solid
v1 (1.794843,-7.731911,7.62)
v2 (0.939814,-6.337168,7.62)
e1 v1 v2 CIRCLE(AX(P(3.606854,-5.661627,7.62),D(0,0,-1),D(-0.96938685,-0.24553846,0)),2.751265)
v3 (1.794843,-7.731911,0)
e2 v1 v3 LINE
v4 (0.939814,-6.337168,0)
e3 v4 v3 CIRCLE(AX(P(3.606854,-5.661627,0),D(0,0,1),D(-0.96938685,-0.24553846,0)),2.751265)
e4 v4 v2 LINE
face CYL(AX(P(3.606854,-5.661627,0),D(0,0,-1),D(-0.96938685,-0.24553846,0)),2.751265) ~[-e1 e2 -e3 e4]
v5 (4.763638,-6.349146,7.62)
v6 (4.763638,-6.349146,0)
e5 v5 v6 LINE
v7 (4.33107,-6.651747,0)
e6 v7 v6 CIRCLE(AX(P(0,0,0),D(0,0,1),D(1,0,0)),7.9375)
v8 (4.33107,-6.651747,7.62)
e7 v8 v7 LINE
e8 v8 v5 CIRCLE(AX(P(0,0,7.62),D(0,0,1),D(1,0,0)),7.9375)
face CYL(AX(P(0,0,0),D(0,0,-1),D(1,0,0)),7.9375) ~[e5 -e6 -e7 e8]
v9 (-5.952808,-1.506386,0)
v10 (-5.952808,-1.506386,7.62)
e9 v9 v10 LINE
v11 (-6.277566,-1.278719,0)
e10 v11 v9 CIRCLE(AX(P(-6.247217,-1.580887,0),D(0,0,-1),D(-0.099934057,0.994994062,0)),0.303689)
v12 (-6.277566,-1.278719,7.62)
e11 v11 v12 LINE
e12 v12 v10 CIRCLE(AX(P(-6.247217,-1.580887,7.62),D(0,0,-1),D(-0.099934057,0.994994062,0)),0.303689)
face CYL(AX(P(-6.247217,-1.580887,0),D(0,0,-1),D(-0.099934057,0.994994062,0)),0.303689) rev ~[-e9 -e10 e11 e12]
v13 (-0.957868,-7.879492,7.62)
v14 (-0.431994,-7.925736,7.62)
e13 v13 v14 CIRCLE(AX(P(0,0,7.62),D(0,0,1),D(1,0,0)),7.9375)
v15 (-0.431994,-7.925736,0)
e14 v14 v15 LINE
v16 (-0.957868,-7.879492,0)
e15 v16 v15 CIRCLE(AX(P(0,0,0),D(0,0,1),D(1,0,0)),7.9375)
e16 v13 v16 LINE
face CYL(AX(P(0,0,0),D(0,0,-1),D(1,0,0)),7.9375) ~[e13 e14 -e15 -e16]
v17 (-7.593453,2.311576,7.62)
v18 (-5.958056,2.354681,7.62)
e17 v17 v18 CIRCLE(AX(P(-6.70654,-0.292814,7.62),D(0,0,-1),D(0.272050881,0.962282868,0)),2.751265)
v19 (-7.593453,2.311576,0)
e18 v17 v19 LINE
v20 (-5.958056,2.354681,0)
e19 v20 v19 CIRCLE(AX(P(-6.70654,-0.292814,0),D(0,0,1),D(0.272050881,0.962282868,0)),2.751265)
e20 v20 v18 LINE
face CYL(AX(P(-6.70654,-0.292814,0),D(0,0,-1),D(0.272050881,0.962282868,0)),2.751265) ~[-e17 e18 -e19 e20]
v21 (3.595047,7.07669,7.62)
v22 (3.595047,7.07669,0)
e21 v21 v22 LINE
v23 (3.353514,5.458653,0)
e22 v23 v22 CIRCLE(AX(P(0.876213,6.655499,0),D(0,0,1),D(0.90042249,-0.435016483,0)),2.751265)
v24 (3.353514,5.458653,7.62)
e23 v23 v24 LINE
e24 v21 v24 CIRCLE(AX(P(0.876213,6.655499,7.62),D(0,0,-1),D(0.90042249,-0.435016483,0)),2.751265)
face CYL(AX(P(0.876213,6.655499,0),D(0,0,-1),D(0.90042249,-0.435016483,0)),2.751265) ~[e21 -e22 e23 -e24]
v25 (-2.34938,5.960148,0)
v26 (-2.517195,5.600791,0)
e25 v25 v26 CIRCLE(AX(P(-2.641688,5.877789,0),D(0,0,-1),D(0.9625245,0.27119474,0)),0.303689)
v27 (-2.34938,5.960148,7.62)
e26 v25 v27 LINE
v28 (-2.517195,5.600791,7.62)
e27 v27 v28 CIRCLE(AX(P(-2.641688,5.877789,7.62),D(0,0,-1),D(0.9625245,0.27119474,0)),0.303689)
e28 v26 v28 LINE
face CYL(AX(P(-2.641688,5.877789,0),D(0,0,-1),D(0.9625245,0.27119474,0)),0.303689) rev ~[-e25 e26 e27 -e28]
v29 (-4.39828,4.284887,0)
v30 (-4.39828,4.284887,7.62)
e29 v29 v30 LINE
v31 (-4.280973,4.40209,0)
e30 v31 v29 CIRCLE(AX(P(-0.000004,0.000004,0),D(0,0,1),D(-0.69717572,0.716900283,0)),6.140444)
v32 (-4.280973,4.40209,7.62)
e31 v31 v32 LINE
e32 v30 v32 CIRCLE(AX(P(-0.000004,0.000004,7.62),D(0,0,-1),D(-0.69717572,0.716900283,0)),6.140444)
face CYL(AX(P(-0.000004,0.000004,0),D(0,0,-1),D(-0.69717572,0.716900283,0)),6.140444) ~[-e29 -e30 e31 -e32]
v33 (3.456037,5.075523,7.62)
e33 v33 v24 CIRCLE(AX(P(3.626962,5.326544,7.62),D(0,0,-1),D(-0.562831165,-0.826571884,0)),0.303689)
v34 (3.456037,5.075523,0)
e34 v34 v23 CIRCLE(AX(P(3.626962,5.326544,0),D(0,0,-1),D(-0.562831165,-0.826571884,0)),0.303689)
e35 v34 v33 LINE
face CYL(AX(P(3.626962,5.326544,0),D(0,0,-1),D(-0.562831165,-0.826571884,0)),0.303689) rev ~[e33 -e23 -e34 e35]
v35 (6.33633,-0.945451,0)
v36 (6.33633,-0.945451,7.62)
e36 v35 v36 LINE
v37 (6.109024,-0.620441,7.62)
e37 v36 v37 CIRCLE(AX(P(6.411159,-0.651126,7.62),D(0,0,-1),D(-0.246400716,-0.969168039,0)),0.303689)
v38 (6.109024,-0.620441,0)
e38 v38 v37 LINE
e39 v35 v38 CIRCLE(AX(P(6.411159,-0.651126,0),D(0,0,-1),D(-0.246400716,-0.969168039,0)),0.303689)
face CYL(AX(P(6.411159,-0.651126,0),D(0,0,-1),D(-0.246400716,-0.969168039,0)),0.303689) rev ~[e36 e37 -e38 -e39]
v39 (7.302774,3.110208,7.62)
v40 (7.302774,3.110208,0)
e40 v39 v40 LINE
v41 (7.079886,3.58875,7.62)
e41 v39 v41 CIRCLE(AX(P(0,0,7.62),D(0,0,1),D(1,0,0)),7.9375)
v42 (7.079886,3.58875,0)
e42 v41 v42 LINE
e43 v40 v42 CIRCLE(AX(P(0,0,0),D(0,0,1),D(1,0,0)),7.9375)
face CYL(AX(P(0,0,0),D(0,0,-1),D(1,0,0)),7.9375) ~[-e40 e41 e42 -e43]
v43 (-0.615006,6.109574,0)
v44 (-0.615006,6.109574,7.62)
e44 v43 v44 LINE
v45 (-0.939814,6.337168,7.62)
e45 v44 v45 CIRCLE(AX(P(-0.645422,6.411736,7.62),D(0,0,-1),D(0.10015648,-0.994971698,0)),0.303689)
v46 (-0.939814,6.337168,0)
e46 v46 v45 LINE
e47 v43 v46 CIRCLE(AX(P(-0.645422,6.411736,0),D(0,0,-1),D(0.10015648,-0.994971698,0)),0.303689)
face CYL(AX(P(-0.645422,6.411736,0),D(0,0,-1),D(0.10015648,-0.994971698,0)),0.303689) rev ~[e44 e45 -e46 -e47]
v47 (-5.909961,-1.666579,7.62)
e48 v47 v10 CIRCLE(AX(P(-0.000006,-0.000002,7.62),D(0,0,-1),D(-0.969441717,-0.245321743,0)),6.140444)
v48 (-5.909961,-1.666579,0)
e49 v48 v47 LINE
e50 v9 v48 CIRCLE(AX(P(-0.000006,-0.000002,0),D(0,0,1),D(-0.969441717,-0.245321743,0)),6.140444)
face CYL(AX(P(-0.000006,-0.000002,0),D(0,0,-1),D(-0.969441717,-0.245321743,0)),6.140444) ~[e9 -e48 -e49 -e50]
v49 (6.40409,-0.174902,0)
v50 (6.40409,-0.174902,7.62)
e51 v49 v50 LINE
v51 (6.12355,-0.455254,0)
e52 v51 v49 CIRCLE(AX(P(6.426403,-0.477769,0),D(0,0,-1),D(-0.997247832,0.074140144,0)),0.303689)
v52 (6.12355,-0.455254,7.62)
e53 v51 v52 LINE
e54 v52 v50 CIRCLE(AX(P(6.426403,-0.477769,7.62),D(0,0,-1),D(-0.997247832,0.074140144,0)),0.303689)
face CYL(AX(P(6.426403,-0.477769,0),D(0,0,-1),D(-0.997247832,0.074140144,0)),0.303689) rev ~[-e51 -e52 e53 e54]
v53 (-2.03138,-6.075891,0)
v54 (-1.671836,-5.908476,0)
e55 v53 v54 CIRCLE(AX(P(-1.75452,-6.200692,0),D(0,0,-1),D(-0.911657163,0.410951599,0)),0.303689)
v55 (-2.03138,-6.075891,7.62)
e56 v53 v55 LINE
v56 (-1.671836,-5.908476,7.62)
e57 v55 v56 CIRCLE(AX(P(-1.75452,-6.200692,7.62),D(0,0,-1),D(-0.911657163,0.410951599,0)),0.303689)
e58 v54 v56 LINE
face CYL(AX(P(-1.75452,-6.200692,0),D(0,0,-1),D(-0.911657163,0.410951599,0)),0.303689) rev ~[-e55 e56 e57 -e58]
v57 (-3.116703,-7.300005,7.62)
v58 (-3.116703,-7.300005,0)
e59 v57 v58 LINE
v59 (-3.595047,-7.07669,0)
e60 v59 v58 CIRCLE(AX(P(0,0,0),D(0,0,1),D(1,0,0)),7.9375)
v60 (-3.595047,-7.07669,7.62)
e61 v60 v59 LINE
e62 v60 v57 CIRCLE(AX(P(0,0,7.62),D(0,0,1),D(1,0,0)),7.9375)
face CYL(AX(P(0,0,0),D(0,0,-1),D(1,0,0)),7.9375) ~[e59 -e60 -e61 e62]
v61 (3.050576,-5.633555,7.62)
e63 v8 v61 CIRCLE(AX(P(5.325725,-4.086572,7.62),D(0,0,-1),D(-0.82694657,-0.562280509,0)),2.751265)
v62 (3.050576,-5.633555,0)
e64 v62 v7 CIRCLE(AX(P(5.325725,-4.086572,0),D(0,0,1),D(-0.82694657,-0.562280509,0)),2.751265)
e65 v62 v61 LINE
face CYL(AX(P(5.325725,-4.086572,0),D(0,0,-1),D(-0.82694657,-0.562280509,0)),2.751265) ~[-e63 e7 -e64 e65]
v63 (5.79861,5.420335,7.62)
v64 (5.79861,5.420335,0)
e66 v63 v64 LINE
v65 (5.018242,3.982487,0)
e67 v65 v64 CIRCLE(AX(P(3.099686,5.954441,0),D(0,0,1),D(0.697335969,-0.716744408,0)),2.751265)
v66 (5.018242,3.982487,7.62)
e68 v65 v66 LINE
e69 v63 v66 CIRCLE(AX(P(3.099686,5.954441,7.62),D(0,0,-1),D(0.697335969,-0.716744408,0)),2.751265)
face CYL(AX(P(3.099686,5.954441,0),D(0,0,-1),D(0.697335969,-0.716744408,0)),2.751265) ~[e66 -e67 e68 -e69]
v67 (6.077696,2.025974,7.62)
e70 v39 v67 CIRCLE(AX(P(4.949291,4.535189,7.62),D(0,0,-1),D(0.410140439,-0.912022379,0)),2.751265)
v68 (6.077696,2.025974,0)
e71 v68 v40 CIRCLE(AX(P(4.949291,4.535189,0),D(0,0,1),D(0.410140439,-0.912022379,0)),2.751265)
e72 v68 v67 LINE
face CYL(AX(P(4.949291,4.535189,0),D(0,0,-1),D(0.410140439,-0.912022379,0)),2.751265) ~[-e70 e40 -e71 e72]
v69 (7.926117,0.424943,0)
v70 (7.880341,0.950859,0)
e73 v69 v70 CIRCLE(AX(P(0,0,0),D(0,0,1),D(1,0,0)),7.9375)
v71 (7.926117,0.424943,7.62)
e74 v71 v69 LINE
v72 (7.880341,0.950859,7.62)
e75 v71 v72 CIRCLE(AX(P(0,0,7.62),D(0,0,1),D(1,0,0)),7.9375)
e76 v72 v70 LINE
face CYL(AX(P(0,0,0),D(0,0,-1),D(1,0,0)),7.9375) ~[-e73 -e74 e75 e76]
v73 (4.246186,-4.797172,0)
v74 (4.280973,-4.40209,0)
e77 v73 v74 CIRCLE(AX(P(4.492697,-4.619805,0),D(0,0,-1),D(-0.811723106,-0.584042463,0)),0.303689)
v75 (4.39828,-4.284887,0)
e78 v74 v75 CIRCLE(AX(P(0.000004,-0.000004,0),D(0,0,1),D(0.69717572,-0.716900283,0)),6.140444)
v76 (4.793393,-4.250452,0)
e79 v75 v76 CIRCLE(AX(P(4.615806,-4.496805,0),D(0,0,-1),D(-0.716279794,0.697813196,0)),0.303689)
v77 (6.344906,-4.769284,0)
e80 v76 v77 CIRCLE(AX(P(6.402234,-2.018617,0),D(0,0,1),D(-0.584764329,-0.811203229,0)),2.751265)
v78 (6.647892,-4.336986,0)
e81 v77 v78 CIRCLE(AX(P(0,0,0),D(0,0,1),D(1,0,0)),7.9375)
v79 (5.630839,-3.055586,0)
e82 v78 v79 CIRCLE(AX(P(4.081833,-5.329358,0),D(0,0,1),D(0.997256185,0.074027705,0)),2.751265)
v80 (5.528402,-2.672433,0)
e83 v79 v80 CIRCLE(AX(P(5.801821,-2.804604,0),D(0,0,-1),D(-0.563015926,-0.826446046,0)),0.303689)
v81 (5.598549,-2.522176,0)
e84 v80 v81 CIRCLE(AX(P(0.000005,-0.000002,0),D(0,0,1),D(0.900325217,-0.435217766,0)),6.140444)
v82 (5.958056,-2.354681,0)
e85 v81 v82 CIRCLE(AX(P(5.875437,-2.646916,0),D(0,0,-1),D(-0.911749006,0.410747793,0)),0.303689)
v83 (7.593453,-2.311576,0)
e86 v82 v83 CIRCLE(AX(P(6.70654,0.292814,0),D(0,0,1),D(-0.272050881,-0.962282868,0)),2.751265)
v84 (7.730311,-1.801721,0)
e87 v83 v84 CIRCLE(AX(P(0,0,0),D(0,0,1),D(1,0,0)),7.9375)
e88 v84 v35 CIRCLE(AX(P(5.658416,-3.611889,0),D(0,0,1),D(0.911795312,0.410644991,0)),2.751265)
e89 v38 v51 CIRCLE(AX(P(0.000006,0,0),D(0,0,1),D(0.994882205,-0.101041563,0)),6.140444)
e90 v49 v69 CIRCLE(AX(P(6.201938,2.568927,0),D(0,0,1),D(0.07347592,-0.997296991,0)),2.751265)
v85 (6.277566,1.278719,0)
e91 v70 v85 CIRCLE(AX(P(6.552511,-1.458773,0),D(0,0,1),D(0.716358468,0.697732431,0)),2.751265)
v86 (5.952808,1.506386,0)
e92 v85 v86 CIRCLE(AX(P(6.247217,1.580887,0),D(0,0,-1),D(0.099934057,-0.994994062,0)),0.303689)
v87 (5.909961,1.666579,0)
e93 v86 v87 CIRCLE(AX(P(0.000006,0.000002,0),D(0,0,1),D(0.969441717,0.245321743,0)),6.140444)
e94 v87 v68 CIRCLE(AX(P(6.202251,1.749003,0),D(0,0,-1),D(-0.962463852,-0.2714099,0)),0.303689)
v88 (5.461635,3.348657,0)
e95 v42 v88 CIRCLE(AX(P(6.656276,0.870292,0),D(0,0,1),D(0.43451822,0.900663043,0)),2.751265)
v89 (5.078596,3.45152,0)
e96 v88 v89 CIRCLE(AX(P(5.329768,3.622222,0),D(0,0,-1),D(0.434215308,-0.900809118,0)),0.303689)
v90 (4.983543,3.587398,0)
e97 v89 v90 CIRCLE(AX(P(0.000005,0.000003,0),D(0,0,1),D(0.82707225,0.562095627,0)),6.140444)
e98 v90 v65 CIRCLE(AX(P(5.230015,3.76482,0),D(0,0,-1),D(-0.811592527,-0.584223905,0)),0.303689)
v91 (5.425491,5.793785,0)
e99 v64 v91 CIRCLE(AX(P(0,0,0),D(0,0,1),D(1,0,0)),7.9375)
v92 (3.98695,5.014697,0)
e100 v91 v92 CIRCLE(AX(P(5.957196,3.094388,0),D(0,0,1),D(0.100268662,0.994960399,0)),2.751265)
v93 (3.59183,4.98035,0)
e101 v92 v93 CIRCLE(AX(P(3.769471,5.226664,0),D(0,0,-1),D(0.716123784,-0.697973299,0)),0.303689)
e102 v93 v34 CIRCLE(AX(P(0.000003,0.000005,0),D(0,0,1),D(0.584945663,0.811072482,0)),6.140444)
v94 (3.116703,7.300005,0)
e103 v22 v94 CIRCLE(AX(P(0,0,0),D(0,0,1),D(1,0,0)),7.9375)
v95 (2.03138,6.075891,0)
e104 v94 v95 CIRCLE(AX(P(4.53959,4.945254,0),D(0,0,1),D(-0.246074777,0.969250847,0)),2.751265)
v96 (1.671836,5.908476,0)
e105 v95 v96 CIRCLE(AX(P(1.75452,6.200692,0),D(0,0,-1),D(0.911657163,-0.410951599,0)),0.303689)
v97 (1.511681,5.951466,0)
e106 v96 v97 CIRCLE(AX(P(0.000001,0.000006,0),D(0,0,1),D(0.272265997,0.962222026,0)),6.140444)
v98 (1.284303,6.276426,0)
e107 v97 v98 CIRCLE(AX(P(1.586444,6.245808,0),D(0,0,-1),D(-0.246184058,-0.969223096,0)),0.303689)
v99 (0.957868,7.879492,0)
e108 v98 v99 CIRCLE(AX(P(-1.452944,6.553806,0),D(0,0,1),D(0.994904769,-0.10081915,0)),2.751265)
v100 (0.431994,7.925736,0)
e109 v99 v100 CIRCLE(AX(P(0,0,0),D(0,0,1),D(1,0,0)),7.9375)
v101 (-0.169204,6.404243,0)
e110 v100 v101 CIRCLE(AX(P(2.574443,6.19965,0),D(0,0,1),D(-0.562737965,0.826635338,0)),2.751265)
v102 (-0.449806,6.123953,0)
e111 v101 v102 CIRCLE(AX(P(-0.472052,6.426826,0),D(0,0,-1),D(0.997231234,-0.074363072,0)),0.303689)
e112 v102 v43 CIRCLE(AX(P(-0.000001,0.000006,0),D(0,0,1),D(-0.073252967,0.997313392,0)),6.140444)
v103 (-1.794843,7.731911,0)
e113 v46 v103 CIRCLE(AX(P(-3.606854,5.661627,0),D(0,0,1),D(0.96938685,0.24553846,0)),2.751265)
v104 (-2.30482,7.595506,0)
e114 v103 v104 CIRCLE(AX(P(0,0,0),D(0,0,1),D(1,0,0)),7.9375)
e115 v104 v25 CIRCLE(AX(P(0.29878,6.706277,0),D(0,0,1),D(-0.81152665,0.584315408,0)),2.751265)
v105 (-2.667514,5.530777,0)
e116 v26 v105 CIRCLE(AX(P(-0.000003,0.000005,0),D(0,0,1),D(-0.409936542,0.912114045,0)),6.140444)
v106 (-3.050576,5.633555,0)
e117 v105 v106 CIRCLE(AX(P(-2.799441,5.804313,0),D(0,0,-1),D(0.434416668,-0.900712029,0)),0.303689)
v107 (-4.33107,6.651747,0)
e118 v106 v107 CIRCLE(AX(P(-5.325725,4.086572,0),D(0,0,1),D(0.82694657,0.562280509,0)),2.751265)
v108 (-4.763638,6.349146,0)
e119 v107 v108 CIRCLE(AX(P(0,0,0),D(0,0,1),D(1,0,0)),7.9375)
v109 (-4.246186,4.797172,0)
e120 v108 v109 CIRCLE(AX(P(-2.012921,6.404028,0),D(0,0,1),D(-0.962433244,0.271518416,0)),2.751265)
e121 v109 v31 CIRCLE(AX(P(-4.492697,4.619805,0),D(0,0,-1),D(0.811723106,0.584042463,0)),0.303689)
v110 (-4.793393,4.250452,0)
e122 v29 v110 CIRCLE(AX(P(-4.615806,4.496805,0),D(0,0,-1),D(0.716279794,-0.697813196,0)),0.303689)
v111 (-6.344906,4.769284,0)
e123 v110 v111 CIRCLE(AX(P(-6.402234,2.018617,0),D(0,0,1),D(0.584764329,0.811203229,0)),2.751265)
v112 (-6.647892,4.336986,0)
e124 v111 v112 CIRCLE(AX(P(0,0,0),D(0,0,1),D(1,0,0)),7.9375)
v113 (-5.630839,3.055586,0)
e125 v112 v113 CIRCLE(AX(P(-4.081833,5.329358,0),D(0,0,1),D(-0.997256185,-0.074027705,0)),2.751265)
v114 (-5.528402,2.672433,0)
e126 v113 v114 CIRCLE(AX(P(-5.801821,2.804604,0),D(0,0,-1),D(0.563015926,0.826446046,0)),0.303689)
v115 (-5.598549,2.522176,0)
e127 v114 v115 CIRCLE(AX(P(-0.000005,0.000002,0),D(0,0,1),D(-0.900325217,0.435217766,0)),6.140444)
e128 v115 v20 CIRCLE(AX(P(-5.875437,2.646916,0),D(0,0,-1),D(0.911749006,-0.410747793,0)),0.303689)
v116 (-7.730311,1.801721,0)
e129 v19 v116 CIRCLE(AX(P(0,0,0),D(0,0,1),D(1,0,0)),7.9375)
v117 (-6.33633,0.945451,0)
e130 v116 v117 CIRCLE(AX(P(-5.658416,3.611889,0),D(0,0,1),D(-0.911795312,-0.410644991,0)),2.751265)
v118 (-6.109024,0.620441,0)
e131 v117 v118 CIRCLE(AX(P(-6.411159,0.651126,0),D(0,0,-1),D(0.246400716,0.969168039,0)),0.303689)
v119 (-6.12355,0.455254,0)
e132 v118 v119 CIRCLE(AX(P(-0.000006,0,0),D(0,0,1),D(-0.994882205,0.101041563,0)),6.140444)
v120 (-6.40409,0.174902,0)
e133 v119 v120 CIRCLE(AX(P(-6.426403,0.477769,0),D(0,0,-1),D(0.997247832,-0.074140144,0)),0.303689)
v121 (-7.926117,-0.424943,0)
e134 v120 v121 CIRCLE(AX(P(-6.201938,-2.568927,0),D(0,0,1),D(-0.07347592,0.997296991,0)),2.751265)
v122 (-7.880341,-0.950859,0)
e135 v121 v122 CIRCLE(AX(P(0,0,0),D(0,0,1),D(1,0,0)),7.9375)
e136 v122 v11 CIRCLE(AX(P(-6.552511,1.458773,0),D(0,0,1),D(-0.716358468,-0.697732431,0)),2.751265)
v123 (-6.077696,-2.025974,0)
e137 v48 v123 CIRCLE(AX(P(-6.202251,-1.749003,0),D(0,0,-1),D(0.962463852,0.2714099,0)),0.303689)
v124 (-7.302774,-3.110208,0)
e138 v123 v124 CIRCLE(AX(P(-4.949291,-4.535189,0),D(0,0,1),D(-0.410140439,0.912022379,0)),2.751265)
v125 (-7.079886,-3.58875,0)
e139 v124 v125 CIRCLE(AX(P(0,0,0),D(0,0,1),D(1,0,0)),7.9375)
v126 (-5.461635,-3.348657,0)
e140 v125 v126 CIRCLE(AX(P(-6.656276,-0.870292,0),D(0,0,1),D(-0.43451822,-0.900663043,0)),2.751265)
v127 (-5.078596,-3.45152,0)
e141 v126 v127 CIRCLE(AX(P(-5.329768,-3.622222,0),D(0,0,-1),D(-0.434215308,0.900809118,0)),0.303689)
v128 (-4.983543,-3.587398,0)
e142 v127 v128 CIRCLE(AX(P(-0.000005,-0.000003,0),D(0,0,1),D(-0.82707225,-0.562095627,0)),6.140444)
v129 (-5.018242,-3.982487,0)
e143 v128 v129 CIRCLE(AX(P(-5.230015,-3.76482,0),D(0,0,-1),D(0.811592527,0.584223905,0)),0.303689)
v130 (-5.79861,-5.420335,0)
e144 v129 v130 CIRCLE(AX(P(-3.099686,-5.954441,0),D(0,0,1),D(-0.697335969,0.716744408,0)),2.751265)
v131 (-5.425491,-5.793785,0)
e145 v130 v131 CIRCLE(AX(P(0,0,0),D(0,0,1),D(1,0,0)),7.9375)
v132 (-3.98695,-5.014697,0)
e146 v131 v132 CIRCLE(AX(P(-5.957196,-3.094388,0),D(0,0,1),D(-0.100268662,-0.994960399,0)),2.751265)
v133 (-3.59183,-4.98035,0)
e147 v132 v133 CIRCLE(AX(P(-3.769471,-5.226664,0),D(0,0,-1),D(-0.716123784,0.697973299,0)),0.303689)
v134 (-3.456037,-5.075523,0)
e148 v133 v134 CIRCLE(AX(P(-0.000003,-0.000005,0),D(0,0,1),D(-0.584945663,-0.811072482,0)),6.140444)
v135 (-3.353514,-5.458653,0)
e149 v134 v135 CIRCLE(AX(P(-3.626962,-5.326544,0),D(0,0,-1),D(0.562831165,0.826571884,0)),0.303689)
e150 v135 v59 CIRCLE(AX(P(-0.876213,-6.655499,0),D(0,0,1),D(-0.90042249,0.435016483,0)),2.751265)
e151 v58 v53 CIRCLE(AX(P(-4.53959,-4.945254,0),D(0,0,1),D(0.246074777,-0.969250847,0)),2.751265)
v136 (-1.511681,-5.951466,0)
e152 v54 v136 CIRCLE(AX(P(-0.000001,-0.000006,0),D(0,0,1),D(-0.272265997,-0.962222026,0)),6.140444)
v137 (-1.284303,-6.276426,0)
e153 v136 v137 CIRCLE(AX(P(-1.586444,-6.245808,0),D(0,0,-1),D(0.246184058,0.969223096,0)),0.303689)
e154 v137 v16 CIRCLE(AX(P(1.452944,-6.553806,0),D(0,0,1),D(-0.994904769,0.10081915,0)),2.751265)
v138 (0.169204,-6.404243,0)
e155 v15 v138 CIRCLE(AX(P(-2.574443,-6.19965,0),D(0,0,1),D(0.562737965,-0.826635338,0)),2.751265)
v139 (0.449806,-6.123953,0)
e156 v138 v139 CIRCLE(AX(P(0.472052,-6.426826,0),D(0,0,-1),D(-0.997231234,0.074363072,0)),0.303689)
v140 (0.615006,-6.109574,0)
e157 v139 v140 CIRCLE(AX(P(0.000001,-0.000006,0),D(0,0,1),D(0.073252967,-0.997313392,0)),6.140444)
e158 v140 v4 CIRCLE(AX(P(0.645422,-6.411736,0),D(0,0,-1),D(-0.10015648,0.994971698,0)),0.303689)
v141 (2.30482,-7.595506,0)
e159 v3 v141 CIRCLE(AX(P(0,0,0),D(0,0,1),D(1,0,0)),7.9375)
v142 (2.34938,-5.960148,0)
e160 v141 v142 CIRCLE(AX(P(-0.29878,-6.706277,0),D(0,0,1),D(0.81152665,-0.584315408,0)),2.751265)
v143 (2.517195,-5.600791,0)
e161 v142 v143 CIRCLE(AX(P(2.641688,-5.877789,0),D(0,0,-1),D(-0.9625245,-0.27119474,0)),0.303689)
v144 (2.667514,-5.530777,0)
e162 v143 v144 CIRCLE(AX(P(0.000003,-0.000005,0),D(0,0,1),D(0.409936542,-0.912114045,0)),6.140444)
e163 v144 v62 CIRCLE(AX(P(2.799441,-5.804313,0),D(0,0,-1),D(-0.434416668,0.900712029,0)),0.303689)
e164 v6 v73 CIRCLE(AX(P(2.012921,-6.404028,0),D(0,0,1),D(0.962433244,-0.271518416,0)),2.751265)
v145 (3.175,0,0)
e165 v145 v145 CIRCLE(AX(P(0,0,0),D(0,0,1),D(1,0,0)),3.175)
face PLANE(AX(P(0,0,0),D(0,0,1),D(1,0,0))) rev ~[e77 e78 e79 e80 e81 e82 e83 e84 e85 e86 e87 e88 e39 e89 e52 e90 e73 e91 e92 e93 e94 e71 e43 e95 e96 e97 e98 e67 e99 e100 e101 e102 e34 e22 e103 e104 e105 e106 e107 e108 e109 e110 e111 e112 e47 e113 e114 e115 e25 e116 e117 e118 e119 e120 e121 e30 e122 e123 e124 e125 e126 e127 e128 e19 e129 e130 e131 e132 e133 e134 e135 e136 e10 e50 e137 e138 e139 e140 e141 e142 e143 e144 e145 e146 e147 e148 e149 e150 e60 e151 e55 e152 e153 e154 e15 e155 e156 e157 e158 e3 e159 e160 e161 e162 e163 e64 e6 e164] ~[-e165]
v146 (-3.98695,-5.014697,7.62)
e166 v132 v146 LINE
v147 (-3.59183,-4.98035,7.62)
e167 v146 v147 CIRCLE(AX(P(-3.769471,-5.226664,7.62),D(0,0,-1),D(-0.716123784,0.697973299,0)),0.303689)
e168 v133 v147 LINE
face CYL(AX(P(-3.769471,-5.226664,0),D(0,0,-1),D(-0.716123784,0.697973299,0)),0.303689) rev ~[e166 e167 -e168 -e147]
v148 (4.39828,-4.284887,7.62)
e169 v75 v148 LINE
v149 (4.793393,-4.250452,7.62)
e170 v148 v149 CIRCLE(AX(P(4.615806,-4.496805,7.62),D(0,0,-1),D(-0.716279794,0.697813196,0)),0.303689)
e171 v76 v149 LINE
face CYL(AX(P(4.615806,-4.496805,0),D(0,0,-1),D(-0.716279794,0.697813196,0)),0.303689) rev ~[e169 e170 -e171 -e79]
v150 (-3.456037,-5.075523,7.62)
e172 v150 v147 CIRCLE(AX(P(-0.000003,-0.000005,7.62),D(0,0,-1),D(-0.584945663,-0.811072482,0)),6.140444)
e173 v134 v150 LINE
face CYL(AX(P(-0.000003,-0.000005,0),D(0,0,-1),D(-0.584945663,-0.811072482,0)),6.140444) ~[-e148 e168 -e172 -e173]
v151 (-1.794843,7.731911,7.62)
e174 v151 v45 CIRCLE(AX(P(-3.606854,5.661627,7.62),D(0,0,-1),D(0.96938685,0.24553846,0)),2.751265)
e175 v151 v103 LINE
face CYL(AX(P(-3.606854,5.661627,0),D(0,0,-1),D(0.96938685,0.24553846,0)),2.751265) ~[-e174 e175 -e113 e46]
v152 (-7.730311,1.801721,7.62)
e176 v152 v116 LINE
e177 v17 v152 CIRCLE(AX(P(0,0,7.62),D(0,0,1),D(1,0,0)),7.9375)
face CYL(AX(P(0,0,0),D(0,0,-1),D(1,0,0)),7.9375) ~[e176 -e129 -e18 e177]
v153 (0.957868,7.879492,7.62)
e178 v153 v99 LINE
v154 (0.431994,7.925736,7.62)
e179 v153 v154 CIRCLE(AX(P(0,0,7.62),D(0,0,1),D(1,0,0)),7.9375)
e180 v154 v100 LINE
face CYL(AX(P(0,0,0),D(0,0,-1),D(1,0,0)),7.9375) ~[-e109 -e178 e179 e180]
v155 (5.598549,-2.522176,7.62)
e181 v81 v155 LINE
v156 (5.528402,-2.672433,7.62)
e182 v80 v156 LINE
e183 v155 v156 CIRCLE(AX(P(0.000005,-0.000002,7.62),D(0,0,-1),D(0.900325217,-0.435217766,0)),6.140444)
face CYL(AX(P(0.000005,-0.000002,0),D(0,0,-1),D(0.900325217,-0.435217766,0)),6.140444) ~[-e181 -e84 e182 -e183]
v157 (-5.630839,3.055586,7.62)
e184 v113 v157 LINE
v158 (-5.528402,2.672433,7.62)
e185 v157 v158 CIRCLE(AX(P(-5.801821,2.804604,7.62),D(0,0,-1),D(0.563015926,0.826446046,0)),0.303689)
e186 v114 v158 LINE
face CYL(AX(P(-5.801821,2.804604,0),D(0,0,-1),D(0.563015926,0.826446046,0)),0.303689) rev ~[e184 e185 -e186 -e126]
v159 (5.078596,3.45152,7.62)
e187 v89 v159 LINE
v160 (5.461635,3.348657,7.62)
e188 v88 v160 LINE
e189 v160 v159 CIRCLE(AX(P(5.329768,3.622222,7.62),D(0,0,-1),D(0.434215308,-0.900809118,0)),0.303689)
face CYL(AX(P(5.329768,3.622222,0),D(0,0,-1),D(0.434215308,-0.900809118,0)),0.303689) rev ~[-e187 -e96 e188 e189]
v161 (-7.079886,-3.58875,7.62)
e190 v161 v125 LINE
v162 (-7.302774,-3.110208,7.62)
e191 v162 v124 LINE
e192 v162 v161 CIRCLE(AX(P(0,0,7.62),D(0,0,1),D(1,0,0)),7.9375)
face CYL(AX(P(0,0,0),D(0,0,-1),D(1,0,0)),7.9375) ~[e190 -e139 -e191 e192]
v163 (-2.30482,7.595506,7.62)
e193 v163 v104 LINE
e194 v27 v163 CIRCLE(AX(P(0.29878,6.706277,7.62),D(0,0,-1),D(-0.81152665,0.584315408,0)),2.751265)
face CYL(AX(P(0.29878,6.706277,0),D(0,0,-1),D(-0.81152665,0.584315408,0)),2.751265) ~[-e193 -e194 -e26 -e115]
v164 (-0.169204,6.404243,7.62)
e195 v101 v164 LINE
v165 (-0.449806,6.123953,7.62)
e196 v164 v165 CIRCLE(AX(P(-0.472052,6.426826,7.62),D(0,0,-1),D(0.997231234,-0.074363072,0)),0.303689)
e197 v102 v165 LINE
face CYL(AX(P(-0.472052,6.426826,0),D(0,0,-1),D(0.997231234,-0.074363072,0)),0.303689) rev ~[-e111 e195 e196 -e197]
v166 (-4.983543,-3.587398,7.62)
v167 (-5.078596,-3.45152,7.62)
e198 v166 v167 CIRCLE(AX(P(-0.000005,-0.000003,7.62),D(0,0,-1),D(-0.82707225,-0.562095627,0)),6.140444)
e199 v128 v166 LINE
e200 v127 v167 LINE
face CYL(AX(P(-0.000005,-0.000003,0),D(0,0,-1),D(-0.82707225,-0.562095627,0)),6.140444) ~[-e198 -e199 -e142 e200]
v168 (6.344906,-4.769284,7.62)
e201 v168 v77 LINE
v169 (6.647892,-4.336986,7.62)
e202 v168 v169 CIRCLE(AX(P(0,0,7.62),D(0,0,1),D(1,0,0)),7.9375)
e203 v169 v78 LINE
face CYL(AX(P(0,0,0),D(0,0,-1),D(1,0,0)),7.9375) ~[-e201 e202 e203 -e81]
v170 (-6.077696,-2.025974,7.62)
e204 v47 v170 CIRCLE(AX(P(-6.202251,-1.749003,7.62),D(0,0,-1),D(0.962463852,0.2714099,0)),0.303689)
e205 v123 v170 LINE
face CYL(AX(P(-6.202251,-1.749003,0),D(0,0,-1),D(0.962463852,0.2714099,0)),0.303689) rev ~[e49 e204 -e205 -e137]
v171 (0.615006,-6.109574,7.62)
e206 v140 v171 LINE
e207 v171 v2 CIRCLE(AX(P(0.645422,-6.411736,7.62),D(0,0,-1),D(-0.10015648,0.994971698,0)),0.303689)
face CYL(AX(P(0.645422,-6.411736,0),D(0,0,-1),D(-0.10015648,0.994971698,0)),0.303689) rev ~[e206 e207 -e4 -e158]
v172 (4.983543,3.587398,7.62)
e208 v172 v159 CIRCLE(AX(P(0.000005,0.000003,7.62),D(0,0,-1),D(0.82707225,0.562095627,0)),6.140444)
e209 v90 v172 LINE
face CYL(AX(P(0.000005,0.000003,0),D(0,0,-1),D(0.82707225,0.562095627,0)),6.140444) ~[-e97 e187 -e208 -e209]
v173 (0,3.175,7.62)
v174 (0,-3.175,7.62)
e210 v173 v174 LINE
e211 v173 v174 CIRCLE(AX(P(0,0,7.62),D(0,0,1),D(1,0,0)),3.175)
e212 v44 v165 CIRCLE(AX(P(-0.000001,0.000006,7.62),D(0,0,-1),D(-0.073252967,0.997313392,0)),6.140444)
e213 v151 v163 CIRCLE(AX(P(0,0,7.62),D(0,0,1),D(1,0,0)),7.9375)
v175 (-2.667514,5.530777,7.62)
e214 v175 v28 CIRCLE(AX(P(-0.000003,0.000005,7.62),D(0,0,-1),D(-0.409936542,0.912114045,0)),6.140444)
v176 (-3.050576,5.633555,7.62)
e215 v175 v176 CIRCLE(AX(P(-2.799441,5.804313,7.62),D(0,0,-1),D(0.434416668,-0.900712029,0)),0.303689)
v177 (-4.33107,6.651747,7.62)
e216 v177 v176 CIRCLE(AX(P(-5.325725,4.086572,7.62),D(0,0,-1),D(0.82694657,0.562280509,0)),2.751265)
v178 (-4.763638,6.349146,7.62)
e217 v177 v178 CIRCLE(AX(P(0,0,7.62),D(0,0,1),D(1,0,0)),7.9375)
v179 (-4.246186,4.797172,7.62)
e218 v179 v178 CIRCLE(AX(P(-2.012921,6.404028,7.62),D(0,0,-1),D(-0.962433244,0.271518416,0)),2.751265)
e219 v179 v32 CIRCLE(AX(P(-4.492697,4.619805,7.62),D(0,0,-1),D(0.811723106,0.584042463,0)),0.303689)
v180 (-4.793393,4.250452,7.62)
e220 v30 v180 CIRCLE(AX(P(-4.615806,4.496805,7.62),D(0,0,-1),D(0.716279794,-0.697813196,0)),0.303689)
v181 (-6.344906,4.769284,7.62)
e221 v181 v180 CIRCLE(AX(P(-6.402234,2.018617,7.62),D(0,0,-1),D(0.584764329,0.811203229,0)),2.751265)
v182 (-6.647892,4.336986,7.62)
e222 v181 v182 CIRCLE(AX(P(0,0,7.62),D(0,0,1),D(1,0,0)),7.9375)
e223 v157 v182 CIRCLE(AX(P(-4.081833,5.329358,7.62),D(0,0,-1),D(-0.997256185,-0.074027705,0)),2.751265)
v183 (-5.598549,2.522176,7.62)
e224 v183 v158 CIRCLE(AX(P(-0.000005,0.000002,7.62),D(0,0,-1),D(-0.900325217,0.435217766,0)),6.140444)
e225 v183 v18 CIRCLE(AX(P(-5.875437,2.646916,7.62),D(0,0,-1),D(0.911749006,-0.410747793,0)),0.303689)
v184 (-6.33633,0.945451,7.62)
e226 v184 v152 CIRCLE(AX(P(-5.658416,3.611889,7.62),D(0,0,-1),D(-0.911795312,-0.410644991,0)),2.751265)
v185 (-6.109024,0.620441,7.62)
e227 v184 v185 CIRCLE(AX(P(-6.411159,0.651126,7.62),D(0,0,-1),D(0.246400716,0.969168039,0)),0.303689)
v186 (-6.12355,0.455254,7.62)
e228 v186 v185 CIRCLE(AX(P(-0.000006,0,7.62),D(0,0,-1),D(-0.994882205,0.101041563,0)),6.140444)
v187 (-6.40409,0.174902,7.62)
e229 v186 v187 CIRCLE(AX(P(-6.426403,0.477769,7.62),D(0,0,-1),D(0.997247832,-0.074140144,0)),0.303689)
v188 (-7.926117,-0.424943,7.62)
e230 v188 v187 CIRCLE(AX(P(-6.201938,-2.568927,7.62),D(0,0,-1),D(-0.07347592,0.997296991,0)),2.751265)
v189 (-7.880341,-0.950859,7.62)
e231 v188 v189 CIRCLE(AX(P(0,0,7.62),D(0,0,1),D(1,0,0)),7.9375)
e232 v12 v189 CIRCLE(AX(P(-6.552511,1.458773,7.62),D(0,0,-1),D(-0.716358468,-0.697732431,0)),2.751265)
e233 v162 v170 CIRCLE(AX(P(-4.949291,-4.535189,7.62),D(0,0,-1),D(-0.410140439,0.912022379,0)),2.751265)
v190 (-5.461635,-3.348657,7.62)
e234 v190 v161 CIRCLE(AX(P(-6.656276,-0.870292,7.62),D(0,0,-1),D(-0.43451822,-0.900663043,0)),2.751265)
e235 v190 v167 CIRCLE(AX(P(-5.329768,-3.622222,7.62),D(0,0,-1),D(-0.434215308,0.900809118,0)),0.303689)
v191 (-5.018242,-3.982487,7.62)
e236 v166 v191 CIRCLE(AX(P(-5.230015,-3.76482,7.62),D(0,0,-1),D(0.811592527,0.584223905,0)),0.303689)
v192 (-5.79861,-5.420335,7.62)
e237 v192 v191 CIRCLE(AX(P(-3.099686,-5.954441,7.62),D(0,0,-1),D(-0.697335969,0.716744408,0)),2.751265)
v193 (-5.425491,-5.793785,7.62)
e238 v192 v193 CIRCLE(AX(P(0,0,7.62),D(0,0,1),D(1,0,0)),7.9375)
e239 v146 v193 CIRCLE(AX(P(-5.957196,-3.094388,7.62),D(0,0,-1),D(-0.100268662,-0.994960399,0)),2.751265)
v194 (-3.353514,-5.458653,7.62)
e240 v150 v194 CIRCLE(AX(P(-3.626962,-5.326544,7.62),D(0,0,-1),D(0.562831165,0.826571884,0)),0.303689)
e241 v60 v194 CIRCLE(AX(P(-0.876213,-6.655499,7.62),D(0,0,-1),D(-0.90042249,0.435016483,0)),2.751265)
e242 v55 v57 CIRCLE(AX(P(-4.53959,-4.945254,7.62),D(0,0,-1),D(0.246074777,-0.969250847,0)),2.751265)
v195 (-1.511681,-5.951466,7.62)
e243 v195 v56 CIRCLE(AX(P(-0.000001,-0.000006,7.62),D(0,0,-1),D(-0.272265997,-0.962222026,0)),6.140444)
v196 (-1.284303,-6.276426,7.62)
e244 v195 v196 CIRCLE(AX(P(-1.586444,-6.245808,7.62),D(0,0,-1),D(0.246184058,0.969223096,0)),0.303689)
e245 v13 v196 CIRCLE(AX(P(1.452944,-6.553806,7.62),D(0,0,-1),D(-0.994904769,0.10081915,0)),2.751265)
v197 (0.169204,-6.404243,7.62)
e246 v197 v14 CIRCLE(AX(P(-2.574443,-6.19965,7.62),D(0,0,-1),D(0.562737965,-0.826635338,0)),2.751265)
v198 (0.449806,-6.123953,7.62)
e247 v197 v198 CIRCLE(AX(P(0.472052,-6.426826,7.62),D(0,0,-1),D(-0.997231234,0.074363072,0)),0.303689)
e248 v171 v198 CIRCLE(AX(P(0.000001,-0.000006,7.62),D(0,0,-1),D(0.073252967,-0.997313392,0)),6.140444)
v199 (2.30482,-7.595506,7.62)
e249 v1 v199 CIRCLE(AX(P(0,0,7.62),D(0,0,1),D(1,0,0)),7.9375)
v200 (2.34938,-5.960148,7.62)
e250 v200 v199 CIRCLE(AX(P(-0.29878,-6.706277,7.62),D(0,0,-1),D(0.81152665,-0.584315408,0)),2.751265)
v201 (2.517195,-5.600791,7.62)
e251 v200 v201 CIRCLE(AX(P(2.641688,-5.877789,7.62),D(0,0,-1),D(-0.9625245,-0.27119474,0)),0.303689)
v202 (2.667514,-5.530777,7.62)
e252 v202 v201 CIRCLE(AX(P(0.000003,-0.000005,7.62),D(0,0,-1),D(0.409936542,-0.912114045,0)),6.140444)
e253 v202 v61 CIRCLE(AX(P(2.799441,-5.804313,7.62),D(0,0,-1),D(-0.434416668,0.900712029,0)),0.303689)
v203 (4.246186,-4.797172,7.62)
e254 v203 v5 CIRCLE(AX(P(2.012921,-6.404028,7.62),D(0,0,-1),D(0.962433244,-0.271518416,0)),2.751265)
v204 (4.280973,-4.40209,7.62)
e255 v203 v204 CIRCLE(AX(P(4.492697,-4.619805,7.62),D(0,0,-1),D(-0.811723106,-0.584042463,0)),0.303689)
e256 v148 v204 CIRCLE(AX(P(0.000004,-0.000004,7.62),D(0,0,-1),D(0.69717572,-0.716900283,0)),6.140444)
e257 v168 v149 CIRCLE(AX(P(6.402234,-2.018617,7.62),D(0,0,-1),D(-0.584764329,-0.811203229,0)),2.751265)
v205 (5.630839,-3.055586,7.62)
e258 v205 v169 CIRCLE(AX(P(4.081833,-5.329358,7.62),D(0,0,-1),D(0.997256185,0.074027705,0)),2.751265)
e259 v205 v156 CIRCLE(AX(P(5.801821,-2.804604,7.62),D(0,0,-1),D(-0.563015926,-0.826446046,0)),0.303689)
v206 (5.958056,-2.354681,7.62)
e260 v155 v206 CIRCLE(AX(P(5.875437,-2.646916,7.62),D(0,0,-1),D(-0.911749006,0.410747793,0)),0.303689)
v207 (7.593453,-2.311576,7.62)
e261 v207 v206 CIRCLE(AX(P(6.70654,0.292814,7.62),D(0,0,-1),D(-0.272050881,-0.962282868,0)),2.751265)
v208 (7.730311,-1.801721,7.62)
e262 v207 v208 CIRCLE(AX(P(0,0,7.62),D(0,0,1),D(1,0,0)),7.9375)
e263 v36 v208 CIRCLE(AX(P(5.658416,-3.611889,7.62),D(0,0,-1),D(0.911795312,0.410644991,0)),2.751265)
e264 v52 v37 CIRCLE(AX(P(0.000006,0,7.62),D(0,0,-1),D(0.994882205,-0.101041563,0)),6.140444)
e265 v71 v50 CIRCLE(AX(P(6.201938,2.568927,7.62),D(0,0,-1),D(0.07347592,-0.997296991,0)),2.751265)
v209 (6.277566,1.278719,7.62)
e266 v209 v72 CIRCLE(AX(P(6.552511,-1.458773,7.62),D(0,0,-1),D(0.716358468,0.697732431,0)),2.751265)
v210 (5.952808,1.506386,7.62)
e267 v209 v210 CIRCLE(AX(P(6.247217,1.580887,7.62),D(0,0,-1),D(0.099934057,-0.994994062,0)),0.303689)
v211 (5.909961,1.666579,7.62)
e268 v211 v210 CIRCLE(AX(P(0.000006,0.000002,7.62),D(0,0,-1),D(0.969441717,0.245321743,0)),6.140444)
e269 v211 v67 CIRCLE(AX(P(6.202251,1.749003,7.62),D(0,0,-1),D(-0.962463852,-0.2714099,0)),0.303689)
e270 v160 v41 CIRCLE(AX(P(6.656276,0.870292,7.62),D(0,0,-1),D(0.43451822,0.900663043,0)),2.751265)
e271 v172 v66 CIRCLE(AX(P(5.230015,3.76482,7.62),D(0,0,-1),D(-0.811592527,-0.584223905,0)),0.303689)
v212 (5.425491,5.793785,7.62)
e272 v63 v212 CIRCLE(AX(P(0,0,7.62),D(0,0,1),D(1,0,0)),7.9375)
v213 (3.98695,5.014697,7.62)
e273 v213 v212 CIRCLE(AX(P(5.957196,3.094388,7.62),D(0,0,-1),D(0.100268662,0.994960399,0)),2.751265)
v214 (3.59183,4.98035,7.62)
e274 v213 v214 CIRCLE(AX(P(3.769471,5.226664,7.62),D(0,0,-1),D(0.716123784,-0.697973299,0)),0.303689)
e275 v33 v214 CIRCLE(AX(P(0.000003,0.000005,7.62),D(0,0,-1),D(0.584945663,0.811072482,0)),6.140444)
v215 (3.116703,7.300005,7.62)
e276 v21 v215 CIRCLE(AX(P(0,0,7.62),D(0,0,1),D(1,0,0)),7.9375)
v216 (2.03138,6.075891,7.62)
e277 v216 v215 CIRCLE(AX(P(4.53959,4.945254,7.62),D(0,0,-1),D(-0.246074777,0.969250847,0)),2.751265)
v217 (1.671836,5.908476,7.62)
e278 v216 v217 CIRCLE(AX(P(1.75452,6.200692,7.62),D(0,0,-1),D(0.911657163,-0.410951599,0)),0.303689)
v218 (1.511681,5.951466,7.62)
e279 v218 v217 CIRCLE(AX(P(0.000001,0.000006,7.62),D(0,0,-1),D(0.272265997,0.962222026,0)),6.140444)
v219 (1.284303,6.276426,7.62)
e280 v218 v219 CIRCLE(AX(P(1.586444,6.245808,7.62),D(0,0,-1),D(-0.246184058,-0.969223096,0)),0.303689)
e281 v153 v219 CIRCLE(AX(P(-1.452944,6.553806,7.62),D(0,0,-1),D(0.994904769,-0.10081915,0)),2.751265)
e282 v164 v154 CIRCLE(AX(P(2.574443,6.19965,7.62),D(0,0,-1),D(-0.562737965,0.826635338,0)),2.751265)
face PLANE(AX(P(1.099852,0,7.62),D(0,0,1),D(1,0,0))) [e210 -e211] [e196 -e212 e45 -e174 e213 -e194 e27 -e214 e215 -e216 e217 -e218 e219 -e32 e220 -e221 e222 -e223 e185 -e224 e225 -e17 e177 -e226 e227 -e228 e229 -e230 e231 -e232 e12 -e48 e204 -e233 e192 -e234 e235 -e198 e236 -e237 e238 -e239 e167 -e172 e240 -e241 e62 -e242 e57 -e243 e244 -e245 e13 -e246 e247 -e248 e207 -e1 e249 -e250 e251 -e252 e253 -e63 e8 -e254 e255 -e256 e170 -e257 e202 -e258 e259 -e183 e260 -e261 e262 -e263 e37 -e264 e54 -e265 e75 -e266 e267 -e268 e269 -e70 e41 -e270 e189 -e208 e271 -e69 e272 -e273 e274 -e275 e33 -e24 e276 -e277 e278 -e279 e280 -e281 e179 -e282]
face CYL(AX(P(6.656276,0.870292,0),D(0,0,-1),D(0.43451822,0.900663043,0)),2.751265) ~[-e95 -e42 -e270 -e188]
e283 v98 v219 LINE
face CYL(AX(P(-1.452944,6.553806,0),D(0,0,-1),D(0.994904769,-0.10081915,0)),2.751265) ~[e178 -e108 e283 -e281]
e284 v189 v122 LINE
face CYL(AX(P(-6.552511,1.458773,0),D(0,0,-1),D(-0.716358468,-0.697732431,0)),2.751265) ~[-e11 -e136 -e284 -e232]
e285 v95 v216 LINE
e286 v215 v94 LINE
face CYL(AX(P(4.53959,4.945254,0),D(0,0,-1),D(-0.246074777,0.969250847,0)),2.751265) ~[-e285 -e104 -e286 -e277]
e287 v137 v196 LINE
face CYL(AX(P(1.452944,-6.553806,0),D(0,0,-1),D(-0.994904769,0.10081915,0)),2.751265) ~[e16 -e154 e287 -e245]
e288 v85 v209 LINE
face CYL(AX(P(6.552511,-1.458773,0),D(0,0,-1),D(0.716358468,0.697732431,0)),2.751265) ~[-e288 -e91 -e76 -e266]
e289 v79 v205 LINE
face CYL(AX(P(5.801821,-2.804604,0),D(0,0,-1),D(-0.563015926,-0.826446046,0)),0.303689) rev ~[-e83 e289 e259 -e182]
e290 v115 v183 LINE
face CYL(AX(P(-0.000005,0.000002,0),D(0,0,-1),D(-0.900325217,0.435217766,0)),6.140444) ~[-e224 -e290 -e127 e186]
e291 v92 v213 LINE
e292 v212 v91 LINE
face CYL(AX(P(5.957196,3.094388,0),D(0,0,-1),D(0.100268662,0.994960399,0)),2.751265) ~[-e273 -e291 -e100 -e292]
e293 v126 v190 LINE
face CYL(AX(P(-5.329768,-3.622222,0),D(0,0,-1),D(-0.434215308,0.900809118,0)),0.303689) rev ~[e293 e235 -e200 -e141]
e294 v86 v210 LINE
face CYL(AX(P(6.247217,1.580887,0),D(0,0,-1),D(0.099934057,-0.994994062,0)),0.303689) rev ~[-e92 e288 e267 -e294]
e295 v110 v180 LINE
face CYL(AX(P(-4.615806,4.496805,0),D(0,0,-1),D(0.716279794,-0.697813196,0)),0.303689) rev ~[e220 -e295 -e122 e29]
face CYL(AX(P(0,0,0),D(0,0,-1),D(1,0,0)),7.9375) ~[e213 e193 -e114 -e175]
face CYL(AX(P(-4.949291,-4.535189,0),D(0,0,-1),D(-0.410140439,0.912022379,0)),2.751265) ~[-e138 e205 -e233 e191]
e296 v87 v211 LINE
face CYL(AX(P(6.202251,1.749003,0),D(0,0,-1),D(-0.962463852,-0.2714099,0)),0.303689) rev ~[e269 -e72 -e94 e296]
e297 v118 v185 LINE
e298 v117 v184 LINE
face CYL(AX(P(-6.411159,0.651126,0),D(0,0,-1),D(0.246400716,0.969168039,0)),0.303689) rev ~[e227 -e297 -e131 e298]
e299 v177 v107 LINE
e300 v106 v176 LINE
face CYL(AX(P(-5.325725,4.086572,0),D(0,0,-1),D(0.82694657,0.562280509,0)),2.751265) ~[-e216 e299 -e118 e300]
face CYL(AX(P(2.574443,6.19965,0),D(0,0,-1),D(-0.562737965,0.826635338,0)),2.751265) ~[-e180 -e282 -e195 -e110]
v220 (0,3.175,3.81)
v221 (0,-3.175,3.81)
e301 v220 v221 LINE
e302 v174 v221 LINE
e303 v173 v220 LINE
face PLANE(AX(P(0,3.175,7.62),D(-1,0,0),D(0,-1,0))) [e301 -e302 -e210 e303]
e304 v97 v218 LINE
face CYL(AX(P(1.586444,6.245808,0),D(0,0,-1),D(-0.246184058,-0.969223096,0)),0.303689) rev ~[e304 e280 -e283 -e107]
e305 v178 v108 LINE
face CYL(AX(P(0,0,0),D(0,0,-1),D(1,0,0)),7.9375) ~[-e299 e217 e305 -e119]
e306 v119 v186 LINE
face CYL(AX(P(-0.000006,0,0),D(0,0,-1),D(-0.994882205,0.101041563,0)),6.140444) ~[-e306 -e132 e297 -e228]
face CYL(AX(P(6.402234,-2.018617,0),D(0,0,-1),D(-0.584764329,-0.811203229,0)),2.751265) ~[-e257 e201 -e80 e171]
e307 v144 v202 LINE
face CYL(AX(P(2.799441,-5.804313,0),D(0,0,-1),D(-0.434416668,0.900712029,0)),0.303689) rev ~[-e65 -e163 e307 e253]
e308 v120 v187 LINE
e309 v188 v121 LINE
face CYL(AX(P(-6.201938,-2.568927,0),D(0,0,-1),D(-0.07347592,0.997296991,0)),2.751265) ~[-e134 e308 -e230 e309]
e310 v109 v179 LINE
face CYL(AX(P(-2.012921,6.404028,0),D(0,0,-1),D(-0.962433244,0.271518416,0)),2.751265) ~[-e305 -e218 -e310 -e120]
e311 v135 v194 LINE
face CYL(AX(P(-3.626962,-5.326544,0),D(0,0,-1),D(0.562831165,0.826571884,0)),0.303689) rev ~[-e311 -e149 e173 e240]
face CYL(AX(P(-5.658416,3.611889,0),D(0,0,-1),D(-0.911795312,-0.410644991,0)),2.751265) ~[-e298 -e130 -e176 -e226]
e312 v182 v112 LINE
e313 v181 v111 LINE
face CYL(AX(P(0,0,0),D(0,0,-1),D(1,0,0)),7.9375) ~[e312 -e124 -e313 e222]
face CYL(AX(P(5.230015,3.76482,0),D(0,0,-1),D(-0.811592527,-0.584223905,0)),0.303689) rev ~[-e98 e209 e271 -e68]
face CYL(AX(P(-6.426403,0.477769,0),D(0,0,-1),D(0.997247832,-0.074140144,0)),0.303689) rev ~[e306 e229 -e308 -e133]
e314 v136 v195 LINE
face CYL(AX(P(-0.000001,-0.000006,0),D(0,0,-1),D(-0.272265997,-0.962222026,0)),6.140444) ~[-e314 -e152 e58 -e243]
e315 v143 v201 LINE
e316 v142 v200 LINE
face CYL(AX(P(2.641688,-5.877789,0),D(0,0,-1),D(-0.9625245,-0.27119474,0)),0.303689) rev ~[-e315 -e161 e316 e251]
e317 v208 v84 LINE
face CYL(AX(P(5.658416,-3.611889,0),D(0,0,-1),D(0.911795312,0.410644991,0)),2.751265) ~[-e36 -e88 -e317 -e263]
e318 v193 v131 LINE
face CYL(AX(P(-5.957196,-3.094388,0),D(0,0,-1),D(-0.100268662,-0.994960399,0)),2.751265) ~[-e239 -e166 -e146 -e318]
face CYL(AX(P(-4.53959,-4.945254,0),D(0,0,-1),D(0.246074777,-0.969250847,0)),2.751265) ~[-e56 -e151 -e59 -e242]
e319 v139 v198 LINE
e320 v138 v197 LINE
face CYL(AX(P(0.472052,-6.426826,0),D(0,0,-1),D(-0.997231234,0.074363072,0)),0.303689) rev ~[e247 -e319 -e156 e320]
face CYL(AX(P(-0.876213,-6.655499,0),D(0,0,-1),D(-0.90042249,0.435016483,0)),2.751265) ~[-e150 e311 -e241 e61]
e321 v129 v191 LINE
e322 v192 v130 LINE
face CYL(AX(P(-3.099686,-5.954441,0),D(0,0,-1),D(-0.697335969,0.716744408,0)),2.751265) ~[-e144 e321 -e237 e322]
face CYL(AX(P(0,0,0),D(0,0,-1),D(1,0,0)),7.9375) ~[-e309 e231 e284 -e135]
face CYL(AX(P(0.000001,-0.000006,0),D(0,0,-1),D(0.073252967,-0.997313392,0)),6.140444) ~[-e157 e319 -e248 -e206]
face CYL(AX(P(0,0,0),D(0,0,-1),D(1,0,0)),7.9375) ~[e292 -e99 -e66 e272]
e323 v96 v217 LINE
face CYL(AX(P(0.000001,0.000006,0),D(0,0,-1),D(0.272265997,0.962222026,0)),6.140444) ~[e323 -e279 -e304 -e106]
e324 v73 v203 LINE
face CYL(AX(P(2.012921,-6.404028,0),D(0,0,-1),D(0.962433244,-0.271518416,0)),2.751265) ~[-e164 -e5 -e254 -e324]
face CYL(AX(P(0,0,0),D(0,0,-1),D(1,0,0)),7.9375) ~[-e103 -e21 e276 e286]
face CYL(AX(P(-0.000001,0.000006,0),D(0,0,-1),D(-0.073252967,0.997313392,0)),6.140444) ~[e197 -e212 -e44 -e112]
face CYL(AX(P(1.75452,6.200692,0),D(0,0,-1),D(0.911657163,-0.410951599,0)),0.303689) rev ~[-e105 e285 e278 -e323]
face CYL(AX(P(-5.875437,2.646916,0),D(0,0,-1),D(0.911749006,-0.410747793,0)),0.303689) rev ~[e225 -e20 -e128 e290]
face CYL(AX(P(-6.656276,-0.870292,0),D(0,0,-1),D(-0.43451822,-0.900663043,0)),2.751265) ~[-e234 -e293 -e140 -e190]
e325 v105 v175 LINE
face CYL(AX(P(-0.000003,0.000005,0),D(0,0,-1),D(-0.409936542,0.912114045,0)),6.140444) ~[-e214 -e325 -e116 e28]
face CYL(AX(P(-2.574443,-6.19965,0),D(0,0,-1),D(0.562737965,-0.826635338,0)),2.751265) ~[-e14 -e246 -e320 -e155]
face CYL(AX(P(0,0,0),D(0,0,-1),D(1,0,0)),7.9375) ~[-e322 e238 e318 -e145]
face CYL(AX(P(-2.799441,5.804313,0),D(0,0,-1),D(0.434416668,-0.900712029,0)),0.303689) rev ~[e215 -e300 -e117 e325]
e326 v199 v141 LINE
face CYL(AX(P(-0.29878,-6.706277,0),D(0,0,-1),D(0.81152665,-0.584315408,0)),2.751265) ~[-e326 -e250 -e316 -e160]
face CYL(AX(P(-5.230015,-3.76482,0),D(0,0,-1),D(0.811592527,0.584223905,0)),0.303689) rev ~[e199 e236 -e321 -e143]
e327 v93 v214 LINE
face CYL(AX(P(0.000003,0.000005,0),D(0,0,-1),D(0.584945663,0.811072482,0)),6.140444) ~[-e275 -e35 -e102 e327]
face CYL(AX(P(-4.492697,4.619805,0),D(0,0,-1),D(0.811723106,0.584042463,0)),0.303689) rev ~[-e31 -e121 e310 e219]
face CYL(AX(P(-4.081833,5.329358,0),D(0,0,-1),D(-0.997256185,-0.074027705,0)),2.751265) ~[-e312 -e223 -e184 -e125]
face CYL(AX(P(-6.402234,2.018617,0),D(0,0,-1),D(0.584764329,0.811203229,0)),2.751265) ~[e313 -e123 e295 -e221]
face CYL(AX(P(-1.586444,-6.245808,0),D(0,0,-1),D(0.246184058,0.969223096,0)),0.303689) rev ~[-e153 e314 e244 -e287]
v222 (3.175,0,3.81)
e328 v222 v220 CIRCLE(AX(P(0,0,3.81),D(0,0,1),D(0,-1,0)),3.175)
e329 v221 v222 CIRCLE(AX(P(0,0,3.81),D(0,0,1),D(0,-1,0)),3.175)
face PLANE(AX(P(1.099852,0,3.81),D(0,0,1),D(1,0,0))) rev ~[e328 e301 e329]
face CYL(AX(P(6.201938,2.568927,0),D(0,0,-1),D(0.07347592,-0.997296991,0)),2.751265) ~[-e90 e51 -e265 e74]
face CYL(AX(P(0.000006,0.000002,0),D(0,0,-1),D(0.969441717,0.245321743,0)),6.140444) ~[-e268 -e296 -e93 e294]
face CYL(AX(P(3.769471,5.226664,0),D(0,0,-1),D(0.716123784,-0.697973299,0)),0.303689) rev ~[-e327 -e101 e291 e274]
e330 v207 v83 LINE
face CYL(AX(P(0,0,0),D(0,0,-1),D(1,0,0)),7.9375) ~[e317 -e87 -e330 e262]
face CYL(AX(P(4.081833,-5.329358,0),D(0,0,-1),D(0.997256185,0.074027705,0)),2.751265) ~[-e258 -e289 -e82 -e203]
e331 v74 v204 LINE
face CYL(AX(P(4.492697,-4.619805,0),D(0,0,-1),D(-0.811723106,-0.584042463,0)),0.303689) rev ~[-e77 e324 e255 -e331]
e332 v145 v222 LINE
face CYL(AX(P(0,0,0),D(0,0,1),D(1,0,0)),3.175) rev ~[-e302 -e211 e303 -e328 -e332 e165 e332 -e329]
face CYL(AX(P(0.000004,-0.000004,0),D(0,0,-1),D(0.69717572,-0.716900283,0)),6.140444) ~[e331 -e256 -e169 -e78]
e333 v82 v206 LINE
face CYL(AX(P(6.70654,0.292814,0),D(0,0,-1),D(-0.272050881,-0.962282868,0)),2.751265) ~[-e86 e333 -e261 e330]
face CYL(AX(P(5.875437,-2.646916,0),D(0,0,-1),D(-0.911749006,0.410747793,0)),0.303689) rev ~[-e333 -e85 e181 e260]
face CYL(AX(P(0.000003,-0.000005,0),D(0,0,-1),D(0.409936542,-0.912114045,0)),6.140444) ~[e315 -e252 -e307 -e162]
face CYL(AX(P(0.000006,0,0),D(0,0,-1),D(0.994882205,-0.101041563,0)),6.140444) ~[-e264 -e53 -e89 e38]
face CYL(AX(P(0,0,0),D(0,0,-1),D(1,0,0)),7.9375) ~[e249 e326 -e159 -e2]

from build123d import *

# Parameters (mm, degrees)
SKETCH3_R           = 7.9375
GEARBODY_DEPTH      = 7.62
TOOTHCUT_DEPTH      = 8.62
CIRPATTERN1_COUNT   = 18
BOREDIA_R           = 3.175
BORE_DEPTH          = 12700
BOSS_EXTRUDE1_DEPTH = 3.81


with BuildPart() as part:
    # Sketch3 → gearBody (new body)
    with BuildSketch(Plane.XY):
        Circle(SKETCH3_R)
    extrude(amount=GEARBODY_DEPTH)

    # Sketch2 → toothCut (cut, through all)
    with BuildSketch(Plane.XY):
        with BuildLine():
            ThreePointArc((6.109024448, -0.620440562), (6.116845087, -0.537896263), (6.123550449, -0.45525389))
            ThreePointArc((6.123550449, -0.45525389), (6.211734547, -0.262957543), (6.404089586, -0.174901543))
            ThreePointArc((6.404089586, -0.174901543), (7.575851051, 0.185269566), (8.474852534, 1.018662927))
            ThreePointArc((8.474852534, 1.018662927), (8.503040528, -0.747730842), (8.167006715, -2.482096081))
            ThreePointArc((8.167006715, -2.482096081), (7.427249601, -1.504595405), (6.336329857, -0.945451173))
            ThreePointArc((6.336329857, -0.945451173), (6.162294814, -0.825175973), (6.109024448, -0.620440562))
        make_face()
    toothcut = extrude(amount=TOOTHCUT_DEPTH, mode=Mode.SUBTRACT)

    # CirPattern1: toothCut ×18 about axis
    cirpattern1_axis = Axis((0, 0, 0), (0, 0, 1))
    for i in range(1, CIRPATTERN1_COUNT):
        add(toothcut.rotate(cirpattern1_axis, i * 360 / CIRPATTERN1_COUNT), mode=Mode.SUBTRACT)

    # boreDia → bore (cut, symmetric)
    with BuildSketch(Plane.XY):
        Circle(BOREDIA_R)
    extrude(amount=BORE_DEPTH, both=True, mode=Mode.SUBTRACT)

    # Sketch5 → Boss-Extrude1 (add)
    with BuildSketch(Plane.XY.offset(7.62)):
        with BuildLine():
            Line((0, 3.175), (0, -3.175))
            ThreePointArc((0, -3.175), (3.175, 0), (0, 3.175))
        make_face()
    extrude(amount=-BOSS_EXTRUDE1_DEPTH)


solid = part.part
